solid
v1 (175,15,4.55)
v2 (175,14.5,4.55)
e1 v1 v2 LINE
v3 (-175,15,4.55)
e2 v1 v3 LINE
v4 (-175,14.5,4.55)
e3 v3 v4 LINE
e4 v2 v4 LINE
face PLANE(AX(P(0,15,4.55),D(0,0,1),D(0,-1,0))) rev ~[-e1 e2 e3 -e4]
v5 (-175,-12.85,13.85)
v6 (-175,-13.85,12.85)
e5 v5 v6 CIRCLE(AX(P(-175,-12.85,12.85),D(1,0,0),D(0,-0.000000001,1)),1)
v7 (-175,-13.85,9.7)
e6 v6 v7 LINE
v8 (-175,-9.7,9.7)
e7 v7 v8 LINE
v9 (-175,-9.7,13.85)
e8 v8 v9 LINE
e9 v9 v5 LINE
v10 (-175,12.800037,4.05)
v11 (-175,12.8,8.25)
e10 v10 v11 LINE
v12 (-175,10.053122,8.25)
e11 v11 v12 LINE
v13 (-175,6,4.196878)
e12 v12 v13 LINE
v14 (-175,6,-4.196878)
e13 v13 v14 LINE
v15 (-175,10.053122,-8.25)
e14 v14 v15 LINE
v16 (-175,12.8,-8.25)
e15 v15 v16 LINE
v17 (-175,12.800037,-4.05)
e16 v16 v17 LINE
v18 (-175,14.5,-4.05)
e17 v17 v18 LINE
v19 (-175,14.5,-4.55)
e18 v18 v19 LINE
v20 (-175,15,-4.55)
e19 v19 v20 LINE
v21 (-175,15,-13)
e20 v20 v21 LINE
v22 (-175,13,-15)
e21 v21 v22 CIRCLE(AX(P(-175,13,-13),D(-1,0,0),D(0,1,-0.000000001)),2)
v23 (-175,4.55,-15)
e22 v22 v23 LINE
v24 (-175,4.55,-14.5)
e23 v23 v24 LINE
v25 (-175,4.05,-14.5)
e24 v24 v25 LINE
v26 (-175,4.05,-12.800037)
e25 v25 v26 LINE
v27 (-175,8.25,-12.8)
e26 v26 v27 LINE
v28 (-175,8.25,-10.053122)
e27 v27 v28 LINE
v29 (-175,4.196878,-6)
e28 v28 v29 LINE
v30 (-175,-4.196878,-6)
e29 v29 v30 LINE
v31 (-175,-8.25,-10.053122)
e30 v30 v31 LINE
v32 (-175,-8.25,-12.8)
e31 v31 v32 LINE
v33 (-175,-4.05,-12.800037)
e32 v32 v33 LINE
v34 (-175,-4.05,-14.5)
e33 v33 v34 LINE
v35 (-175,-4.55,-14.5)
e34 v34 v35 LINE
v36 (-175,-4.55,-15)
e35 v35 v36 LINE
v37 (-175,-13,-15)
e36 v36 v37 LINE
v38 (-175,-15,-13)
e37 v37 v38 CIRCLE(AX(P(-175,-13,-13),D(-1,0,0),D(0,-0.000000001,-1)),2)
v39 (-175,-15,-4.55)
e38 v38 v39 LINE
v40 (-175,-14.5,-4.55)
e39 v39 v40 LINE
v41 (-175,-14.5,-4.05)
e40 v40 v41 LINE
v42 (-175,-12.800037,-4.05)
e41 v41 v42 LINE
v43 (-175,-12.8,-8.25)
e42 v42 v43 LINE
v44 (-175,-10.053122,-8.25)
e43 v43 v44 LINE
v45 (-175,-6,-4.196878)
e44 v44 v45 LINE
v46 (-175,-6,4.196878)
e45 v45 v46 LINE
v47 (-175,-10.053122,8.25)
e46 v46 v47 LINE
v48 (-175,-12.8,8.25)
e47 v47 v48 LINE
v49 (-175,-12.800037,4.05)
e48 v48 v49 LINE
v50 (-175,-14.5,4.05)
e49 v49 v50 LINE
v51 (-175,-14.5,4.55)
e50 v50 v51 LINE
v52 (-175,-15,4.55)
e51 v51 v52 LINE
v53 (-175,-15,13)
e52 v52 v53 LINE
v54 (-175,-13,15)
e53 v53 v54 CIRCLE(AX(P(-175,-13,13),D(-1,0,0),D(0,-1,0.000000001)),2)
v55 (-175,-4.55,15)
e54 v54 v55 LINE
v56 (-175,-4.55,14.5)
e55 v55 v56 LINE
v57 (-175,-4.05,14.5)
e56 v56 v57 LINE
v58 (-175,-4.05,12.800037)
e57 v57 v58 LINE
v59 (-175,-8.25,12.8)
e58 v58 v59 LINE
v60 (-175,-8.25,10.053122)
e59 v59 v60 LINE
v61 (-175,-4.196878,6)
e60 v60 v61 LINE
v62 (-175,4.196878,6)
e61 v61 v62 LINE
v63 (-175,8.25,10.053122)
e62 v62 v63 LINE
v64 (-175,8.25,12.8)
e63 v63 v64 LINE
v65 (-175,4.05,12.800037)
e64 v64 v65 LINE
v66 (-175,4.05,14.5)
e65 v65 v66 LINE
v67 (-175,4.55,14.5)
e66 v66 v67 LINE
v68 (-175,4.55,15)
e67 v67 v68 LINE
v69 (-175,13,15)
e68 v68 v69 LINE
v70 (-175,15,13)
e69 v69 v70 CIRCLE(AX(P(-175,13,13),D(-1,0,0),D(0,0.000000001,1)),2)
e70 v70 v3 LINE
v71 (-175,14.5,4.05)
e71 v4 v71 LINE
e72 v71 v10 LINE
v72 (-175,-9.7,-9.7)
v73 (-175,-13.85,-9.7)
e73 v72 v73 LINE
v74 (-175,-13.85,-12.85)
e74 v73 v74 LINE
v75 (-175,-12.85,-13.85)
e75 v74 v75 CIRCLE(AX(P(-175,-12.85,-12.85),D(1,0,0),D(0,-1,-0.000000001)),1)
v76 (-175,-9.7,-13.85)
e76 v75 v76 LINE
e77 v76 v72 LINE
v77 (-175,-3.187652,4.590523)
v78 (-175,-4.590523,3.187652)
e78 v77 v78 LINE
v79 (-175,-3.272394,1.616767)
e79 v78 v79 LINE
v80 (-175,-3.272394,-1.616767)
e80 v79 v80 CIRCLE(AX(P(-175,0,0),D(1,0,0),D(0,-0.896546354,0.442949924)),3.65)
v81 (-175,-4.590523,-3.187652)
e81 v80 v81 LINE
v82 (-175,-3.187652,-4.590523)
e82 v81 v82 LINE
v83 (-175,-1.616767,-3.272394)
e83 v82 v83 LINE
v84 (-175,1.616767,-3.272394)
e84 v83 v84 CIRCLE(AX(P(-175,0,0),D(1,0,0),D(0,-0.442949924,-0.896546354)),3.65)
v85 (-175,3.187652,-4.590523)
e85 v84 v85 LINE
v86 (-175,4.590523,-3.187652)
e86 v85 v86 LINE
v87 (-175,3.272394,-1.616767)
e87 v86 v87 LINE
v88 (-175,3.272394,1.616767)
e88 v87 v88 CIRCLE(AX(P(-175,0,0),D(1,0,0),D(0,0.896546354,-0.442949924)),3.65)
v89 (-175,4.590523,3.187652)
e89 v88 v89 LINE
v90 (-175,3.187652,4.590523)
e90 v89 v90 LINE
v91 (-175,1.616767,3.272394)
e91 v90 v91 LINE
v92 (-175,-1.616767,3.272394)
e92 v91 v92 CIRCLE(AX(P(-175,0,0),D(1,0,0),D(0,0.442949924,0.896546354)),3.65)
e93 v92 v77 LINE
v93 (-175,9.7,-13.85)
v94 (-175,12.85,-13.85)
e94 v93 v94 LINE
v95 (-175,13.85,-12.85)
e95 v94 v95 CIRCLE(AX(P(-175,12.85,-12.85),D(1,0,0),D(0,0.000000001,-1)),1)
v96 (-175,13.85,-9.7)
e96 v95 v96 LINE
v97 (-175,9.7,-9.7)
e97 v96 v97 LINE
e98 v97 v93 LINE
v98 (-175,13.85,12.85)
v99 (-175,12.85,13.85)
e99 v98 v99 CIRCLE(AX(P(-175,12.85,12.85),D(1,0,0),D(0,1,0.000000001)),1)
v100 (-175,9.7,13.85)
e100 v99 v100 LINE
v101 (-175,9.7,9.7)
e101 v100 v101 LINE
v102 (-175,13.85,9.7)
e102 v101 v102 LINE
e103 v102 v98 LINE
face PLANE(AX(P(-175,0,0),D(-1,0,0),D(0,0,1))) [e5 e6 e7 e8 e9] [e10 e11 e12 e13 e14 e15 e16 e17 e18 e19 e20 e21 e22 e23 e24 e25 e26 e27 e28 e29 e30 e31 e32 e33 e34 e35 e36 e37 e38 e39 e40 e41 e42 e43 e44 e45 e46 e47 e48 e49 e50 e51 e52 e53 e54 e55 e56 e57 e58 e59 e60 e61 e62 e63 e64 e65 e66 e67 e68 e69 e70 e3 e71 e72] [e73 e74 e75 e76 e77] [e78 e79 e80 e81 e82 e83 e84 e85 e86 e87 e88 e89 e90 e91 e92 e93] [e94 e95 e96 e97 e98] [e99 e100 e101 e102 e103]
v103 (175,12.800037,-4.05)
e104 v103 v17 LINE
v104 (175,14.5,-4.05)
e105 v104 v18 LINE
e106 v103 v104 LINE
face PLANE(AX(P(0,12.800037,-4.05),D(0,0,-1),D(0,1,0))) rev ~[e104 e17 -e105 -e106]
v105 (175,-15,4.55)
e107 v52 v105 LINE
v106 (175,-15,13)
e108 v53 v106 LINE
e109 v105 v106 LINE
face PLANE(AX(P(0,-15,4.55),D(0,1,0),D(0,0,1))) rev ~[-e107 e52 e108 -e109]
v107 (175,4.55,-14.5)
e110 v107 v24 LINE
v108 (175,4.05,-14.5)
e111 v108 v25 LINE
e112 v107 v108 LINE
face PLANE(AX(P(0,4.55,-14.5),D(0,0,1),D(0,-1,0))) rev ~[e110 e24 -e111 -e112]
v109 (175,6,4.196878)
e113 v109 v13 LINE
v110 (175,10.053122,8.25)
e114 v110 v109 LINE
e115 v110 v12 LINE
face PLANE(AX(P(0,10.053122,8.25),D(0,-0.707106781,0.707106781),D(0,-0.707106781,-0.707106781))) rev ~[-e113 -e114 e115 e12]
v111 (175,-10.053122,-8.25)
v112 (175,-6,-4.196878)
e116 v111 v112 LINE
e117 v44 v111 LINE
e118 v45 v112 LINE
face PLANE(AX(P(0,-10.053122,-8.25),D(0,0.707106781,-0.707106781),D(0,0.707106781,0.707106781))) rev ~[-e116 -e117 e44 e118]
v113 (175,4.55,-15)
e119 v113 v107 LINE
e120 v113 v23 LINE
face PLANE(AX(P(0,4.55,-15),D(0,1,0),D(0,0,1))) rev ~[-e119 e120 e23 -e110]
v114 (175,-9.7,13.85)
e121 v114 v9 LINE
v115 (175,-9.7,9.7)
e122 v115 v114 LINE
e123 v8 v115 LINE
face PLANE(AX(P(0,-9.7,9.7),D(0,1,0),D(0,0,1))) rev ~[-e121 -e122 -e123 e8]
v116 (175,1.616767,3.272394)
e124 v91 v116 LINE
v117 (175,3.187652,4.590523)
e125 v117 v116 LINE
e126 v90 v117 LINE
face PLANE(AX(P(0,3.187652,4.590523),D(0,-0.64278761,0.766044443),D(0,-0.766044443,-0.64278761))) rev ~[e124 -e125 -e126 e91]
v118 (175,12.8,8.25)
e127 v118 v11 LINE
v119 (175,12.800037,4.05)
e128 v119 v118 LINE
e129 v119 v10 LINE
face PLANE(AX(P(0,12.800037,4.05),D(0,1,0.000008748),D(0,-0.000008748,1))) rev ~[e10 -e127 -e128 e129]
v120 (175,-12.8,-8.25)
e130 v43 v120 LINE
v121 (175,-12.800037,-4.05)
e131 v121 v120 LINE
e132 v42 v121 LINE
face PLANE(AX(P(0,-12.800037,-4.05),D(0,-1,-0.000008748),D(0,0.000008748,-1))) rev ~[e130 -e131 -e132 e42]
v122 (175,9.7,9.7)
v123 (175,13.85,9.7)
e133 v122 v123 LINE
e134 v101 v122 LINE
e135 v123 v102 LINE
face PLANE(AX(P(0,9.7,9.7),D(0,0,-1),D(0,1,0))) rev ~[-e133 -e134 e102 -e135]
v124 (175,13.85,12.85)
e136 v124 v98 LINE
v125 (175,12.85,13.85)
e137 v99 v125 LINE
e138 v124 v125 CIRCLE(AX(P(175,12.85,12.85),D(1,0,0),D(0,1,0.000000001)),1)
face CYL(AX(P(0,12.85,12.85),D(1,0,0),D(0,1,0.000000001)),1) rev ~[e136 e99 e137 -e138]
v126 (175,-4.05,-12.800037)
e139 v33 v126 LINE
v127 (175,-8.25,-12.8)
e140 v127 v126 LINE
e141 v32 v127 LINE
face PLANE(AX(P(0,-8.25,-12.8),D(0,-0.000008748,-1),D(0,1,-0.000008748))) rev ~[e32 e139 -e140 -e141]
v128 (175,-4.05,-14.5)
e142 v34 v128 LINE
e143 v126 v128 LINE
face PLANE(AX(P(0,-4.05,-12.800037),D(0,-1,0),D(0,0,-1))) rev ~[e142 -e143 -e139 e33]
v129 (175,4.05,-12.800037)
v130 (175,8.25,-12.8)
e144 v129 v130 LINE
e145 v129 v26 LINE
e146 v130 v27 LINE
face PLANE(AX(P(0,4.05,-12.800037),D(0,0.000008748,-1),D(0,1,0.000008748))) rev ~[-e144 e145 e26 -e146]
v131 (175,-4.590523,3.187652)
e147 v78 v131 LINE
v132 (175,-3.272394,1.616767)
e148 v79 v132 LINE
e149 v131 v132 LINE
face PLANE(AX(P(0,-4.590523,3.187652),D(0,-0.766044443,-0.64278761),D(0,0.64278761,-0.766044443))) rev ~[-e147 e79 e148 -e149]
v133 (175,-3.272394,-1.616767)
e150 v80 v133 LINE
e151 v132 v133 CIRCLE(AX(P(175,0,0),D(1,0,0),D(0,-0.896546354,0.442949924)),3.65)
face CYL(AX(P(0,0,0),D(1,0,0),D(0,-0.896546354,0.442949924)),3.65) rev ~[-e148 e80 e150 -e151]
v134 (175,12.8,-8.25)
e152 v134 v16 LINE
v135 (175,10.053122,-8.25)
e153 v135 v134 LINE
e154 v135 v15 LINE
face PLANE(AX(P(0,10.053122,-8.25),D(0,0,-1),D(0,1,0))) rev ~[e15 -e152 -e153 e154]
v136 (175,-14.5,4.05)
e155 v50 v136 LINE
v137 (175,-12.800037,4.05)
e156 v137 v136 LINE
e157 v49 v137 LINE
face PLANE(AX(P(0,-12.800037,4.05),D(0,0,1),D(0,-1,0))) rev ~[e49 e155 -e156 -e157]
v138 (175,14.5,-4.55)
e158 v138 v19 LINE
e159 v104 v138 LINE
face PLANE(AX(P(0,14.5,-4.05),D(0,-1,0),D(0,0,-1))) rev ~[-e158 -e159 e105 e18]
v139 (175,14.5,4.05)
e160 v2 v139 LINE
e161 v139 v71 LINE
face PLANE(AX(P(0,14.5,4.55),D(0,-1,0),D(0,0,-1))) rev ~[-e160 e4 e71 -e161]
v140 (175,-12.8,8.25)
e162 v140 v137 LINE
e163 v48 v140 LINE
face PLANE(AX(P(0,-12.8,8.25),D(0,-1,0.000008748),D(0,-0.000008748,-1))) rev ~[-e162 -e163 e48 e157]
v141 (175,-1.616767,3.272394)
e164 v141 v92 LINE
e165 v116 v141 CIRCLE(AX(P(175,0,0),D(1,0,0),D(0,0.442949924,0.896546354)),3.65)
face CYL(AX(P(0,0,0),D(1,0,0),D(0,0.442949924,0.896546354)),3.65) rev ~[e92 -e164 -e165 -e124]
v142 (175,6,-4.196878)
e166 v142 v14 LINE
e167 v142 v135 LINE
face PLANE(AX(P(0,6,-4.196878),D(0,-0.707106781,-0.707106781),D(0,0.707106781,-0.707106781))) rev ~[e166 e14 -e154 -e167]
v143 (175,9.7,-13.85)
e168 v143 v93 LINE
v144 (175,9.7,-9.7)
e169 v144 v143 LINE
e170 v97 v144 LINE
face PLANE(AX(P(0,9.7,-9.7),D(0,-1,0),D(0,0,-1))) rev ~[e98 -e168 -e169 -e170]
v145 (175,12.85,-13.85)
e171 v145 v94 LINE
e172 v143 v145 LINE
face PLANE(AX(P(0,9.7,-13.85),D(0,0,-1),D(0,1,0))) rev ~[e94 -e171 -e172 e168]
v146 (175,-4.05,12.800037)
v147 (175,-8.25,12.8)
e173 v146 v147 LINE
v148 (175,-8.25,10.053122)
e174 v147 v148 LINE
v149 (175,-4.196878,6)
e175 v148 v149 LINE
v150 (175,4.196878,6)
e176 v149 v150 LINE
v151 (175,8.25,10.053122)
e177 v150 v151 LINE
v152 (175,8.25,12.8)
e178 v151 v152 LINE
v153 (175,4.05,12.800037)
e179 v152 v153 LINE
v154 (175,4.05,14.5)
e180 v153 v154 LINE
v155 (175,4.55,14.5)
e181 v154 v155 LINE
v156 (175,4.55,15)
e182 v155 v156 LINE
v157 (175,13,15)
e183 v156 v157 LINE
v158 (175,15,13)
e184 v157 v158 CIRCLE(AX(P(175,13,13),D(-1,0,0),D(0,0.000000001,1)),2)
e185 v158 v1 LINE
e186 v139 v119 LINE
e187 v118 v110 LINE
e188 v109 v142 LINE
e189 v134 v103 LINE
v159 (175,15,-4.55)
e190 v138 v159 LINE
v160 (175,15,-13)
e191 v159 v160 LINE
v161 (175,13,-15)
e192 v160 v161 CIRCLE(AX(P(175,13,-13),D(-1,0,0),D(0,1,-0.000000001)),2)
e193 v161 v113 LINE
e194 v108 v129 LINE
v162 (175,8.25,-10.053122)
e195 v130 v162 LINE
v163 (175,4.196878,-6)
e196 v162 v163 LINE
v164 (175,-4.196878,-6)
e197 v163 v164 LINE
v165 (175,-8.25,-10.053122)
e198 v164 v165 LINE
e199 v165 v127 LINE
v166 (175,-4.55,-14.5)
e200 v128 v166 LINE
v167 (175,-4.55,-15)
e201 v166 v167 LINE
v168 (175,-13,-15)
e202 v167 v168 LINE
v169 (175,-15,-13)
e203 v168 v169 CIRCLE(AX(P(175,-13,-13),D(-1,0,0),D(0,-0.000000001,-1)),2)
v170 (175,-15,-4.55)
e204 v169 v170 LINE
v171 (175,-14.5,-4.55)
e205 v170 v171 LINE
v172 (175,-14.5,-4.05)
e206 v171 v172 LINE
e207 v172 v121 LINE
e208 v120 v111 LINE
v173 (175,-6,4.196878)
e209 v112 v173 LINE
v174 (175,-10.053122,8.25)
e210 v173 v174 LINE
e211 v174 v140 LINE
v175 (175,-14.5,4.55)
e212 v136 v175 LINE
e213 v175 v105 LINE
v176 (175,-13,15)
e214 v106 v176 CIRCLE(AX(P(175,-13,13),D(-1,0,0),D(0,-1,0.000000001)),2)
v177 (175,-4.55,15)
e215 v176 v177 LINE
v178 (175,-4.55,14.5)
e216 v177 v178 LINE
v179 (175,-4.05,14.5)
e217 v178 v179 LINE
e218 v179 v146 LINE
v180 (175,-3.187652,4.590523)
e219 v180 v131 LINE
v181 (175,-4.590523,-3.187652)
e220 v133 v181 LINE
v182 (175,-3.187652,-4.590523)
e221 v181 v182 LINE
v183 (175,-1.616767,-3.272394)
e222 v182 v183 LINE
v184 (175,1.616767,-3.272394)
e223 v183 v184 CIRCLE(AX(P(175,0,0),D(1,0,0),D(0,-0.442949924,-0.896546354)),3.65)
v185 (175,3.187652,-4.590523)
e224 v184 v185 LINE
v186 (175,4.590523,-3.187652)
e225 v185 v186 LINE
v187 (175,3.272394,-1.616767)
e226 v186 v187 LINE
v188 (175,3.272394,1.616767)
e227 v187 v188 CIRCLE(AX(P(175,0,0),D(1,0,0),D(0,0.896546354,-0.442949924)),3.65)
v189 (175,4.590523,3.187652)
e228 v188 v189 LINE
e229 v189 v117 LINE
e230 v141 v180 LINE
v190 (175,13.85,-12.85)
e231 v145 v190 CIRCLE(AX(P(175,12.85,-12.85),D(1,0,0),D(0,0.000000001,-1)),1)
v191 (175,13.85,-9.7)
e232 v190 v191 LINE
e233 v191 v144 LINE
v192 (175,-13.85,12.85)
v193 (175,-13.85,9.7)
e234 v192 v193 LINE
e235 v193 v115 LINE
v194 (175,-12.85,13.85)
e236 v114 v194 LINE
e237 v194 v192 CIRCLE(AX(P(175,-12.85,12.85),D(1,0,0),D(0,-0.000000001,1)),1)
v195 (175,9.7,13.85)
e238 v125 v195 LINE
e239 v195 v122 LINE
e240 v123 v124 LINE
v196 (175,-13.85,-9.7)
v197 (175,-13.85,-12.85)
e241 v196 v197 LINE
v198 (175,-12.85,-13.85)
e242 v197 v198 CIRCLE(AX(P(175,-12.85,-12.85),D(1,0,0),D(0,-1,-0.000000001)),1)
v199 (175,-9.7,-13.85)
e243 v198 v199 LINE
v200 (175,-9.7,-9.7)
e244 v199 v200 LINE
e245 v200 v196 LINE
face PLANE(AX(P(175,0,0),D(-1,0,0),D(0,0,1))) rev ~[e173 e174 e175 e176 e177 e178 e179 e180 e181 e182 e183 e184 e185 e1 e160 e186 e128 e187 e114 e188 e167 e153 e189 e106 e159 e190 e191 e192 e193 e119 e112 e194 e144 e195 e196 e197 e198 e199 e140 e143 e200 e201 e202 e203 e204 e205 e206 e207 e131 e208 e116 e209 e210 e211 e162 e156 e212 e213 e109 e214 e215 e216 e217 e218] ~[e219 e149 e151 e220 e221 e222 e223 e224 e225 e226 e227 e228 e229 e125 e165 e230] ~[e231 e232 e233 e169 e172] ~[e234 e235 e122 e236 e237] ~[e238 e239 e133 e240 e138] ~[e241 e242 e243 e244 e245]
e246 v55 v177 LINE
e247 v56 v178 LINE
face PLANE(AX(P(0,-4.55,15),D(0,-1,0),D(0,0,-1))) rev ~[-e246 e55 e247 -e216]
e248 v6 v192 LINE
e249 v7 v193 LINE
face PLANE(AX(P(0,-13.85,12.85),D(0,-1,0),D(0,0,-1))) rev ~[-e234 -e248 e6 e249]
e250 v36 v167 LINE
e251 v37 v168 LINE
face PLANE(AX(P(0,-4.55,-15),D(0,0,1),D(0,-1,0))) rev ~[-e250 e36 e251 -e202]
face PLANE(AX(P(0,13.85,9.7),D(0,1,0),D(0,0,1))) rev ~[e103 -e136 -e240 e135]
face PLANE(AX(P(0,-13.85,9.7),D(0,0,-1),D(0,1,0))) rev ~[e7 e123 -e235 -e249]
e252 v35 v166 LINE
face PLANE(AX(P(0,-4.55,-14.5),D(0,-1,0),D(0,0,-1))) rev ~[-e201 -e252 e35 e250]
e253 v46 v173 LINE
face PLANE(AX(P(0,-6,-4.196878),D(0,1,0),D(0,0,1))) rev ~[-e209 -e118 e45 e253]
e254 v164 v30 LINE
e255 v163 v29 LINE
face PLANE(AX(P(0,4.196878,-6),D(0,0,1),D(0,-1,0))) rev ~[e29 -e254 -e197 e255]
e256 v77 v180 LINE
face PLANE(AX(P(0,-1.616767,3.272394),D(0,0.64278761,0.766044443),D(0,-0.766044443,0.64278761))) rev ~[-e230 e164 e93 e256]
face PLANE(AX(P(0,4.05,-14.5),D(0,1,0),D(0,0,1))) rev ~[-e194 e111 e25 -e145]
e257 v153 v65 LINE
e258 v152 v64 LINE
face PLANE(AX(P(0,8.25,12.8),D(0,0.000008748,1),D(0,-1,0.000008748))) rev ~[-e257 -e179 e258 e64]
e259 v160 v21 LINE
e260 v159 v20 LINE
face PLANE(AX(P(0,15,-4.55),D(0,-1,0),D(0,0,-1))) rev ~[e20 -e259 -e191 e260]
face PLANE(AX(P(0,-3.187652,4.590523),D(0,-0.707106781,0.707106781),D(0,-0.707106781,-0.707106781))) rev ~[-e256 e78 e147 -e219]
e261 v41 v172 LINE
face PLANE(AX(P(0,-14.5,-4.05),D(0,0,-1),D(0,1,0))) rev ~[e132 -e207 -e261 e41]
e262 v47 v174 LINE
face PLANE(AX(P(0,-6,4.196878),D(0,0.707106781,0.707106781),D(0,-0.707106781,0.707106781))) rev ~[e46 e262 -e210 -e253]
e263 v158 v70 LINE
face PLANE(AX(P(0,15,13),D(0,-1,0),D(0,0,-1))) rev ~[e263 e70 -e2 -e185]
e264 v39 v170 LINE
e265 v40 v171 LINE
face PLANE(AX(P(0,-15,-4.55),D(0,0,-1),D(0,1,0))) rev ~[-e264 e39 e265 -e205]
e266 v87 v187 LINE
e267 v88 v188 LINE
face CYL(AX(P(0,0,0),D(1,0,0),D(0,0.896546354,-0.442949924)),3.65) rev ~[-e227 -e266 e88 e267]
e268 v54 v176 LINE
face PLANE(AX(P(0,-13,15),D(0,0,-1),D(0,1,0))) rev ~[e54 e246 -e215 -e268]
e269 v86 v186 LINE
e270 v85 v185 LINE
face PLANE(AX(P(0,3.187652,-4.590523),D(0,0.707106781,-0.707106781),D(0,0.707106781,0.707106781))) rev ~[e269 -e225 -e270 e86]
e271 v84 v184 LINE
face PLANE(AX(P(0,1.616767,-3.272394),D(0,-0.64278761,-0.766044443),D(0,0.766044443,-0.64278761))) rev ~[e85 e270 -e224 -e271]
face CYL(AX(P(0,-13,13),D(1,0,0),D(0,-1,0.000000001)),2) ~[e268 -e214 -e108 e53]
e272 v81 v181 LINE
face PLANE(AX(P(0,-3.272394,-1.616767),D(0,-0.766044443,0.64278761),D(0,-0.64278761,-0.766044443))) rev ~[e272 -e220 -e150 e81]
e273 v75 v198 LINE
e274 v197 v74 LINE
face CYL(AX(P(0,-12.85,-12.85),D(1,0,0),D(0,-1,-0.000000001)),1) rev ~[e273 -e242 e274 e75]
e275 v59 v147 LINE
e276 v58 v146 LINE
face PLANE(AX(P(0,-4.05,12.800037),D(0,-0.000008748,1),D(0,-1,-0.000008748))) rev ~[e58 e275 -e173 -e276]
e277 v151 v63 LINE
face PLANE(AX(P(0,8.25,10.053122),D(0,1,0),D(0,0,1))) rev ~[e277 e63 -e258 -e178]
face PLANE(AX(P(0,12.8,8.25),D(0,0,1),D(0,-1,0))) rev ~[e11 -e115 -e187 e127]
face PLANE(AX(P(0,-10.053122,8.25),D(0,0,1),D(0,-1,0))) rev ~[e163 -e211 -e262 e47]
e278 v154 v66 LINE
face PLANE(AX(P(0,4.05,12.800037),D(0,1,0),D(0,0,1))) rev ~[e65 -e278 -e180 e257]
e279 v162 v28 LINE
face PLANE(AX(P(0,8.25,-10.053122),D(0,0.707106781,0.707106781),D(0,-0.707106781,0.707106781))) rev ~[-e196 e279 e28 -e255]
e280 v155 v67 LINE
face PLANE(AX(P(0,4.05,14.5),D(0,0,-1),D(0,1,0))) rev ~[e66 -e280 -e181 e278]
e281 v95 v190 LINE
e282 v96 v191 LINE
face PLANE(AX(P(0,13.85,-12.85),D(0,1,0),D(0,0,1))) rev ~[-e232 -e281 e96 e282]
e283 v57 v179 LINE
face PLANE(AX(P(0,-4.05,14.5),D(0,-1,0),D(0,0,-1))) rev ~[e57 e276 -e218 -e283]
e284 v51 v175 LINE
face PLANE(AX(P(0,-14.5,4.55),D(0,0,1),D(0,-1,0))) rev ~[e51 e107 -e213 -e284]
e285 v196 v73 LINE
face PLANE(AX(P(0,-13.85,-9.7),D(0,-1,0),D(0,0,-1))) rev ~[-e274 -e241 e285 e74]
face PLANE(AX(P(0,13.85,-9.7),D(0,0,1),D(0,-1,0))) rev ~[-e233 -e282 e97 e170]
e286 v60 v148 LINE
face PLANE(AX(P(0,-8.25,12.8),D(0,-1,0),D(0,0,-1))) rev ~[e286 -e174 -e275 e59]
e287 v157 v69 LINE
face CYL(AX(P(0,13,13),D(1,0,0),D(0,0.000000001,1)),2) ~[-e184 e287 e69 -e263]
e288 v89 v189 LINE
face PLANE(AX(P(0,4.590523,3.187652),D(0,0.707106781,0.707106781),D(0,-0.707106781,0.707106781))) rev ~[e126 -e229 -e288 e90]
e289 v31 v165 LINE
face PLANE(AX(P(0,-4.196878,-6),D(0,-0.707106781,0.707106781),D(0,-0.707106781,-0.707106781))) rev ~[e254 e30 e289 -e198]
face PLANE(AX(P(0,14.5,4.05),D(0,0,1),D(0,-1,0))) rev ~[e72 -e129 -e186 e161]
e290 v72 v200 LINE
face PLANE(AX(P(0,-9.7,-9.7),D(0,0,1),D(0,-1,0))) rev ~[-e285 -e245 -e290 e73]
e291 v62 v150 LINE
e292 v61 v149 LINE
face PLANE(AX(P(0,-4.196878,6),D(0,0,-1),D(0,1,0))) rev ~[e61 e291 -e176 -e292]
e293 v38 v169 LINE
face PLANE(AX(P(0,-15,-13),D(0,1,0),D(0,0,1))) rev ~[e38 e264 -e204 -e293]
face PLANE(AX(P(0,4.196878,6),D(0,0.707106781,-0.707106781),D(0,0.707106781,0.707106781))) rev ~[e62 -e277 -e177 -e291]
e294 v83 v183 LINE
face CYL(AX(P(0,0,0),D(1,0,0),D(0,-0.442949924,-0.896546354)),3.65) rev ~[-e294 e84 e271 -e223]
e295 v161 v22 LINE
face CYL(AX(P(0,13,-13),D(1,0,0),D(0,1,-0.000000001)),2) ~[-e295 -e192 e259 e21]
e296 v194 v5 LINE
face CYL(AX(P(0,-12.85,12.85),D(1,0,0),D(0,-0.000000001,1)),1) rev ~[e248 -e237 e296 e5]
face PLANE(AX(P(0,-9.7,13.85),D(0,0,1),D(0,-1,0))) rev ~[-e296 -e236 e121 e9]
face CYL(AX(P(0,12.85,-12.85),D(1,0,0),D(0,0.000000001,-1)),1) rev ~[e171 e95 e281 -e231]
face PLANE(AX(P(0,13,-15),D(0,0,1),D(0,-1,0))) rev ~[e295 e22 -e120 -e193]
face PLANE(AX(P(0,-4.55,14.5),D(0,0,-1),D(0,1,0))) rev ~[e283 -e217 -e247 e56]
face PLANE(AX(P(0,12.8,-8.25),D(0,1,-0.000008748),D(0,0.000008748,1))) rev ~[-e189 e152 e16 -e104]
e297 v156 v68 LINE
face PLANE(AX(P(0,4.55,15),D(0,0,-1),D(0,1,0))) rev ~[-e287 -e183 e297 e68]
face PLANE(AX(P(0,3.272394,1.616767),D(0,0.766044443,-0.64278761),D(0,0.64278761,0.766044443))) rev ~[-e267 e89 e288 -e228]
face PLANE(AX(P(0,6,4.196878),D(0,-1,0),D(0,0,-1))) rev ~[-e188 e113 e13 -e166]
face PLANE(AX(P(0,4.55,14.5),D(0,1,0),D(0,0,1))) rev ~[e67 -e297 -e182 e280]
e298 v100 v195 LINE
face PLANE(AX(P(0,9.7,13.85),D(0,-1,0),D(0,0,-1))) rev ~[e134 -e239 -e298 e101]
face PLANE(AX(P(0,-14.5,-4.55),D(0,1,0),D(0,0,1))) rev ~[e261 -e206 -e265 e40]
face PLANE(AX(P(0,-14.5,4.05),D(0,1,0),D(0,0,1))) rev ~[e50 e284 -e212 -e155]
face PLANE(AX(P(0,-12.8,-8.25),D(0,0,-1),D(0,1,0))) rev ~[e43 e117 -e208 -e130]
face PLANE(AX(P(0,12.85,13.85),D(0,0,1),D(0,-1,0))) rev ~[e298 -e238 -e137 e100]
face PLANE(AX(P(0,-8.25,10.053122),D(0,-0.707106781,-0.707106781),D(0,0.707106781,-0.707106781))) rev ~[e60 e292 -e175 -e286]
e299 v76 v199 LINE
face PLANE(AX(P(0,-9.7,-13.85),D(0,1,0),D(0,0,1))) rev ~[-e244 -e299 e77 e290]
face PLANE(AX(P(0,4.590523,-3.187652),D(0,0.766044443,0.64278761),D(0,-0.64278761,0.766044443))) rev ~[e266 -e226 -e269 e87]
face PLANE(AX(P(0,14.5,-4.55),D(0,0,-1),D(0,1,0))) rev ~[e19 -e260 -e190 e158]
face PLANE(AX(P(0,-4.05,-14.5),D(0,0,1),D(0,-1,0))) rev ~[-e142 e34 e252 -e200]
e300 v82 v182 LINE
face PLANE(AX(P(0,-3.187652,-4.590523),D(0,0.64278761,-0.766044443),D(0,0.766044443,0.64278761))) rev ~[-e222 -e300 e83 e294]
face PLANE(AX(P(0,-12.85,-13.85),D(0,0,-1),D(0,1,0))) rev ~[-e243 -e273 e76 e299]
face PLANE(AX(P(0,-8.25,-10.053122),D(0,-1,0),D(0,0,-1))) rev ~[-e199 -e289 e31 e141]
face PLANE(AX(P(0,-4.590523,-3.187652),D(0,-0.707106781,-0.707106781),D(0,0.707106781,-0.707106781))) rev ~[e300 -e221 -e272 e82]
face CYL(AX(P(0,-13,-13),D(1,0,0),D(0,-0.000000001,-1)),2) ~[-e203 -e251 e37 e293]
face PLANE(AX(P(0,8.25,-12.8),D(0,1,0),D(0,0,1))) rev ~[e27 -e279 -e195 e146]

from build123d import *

# Parameters (mm, degrees)
BR_EXTRUDE_DEPTH      = 175
BR_EXTRUDE_DEPTH_BACK = 175


with BuildPart() as part:
    # Sketch2 → BR_Extrude (new body, two sides)
    with BuildSketch(Plane(origin=(0, 0, 0), x_dir=(0, 0, -1), z_dir=(1, 0, 0))) as br_extrude_sk:
        with BuildLine():
            Line((-6, 4.196877708), (-10.053122292, 8.25))
            Line((-10.053122292, 8.25), (-12.8, 8.25))
            Line((-12.8, 8.25), (-12.800036742, 4.05))
            Line((-12.800036742, 4.05), (-14.5, 4.05))
            Line((-14.5, 4.05), (-14.5, 4.55))
            Line((-14.5, 4.55), (-15, 4.55))
            Line((-15, 4.55), (-15, 13))
            ThreePointArc((-15, 13), (-14.414213562, 14.414213562), (-13, 15))
            Line((-13, 15), (-4.55, 15))
            Line((-4.55, 15), (-4.55, 14.5))
            Line((-4.55, 14.5), (-4.05, 14.5))
            Line((-4.05, 14.5), (-4.05, 12.800036742))
            Line((-4.05, 12.800036742), (-8.25, 12.8))
            Line((-8.25, 12.8), (-8.25, 10.053122292))
            Line((-8.25, 10.053122292), (-4.196877708, 6))
            Line((-4.196877708, 6), (4.196877708, 6))
            Line((4.196877708, 6), (8.25, 10.053122292))
            Line((8.25, 10.053122292), (8.25, 12.8))
            Line((8.25, 12.8), (4.05, 12.800036742))
            Line((4.05, 12.800036742), (4.05, 14.5))
            Line((4.05, 14.5), (4.55, 14.5))
            Line((4.55, 14.5), (4.55, 15))
            Line((4.55, 15), (13, 15))
            ThreePointArc((13, 15), (14.414213562, 14.414213562), (15, 13))
            Line((15, 13), (15, 4.55))
            Line((15, 4.55), (14.5, 4.55))
            Line((14.5, 4.55), (14.5, 4.05))
            Line((14.5, 4.05), (12.800036742, 4.05))
            Line((12.800036742, 4.05), (12.8, 8.25))
            Line((12.8, 8.25), (10.053122292, 8.25))
            Line((10.053122292, 8.25), (6, 4.196877708))
            Line((6, 4.196877708), (6, -4.196877708))
            Line((6, -4.196877708), (10.053122292, -8.25))
            Line((10.053122292, -8.25), (12.8, -8.25))
            Line((12.8, -8.25), (12.800036742, -4.05))
            Line((12.800036742, -4.05), (14.5, -4.05))
            Line((14.5, -4.05), (14.5, -4.55))
            Line((14.5, -4.55), (15, -4.55))
            Line((15, -4.55), (15, -13))
            ThreePointArc((15, -13), (14.414213562, -14.414213562), (13, -15))
            Line((13, -15), (4.55, -15))
            Line((4.55, -15), (4.55, -14.5))
            Line((4.55, -14.5), (4.05, -14.5))
            Line((4.05, -14.5), (4.05, -12.800036742))
            Line((4.05, -12.800036742), (8.25, -12.8))
            Line((8.25, -12.8), (8.25, -10.053122292))
            Line((8.25, -10.053122292), (4.196877708, -6))
            Line((4.196877708, -6), (-4.196877708, -6))
            Line((-4.196877708, -6), (-8.25, -10.053122292))
            Line((-8.25, -10.053122292), (-8.25, -12.8))
            Line((-8.25, -12.8), (-4.05, -12.800036742))
            Line((-4.05, -12.800036742), (-4.05, -14.5))
            Line((-4.05, -14.5), (-4.55, -14.5))
            Line((-4.55, -14.5), (-4.55, -15))
            Line((-4.55, -15), (-13, -15))
            ThreePointArc((-13, -15), (-14.414213562, -14.414213562), (-15, -13))
            Line((-15, -13), (-15, -4.55))
            Line((-15, -4.55), (-14.5, -4.55))
            Line((-14.5, -4.55), (-14.5, -4.05))
            Line((-14.5, -4.05), (-12.800036742, -4.05))
            Line((-12.800036742, -4.05), (-12.8, -8.25))
            Line((-12.8, -8.25), (-10.053122292, -8.25))
            Line((-10.053122292, -8.25), (-6, -4.196877708))
            Line((-6, -4.196877708), (-6, 4.196877708))
        make_face()
        with BuildLine():
            Line((-13.85, -9.7), (-13.85, -12.85))
            ThreePointArc((-13.85, -12.85), (-13.557106781, -13.557106781), (-12.85, -13.85))
            Line((-12.85, -13.85), (-9.7, -13.85))
            Line((-9.7, -13.85), (-9.7, -9.7))
            Line((-9.7, -9.7), (-13.85, -9.7))
        make_face(mode=Mode.SUBTRACT)
        with BuildLine():
            Line((9.7, -13.85), (12.85, -13.85))
            ThreePointArc((12.85, -13.85), (13.557106781, -13.557106781), (13.85, -12.85))
            Line((13.85, -12.85), (13.85, -9.7))
            Line((13.85, -9.7), (9.7, -9.7))
            Line((9.7, -9.7), (9.7, -13.85))
        make_face(mode=Mode.SUBTRACT)
        with BuildLine():
            Line((13.85, 9.7), (13.85, 12.85))
            ThreePointArc((13.85, 12.85), (13.557106781, 13.557106781), (12.85, 13.85))
            Line((12.85, 13.85), (9.7, 13.85))
            Line((9.7, 13.85), (9.7, 9.7))
            Line((9.7, 9.7), (13.85, 9.7))
        make_face(mode=Mode.SUBTRACT)
        with BuildLine():
            Line((-9.7, 13.85), (-12.85, 13.85))
            ThreePointArc((-12.85, 13.85), (-13.557106781, 13.557106781), (-13.85, 12.85))
            Line((-13.85, 12.85), (-13.85, 9.7))
            Line((-13.85, 9.7), (-9.7, 9.7))
            Line((-9.7, 9.7), (-9.7, 13.85))
        make_face(mode=Mode.SUBTRACT)
        with BuildLine():
            Line((-3.272394192, -1.616767223), (-4.59052283, -3.187651763))
            Line((-4.59052283, -3.187651763), (-3.187651763, -4.59052283))
            Line((-3.187651763, -4.59052283), (-1.616767223, -3.272394192))
            ThreePointArc((-1.616767223, -3.272394192), (0, -3.65), (1.616767223, -3.272394192))
            Line((1.616767223, -3.272394192), (3.187651763, -4.59052283))
            Line((3.187651763, -4.59052283), (4.59052283, -3.187651763))
            Line((4.59052283, -3.187651763), (3.272394192, -1.616767223))
            ThreePointArc((3.272394192, -1.616767223), (3.65, 0), (3.272394192, 1.616767223))
            Line((3.272394192, 1.616767223), (4.59052283, 3.187651763))
            Line((4.59052283, 3.187651763), (3.187651763, 4.59052283))
            Line((3.187651763, 4.59052283), (1.616767223, 3.272394192))
            ThreePointArc((1.616767223, 3.272394192), (0, 3.65), (-1.616767223, 3.272394192))
            Line((-1.616767223, 3.272394192), (-3.187651763, 4.59052283))
            Line((-3.187651763, 4.59052283), (-4.59052283, 3.187651763))
            Line((-4.59052283, 3.187651763), (-3.272394192, 1.616767223))
            ThreePointArc((-3.272394192, 1.616767223), (-3.65, 0), (-3.272394192, -1.616767223))
        make_face(mode=Mode.SUBTRACT)
    extrude(amount=BR_EXTRUDE_DEPTH)
    extrude(br_extrude_sk.sketch, amount=-BR_EXTRUDE_DEPTH_BACK)


solid = part.part
